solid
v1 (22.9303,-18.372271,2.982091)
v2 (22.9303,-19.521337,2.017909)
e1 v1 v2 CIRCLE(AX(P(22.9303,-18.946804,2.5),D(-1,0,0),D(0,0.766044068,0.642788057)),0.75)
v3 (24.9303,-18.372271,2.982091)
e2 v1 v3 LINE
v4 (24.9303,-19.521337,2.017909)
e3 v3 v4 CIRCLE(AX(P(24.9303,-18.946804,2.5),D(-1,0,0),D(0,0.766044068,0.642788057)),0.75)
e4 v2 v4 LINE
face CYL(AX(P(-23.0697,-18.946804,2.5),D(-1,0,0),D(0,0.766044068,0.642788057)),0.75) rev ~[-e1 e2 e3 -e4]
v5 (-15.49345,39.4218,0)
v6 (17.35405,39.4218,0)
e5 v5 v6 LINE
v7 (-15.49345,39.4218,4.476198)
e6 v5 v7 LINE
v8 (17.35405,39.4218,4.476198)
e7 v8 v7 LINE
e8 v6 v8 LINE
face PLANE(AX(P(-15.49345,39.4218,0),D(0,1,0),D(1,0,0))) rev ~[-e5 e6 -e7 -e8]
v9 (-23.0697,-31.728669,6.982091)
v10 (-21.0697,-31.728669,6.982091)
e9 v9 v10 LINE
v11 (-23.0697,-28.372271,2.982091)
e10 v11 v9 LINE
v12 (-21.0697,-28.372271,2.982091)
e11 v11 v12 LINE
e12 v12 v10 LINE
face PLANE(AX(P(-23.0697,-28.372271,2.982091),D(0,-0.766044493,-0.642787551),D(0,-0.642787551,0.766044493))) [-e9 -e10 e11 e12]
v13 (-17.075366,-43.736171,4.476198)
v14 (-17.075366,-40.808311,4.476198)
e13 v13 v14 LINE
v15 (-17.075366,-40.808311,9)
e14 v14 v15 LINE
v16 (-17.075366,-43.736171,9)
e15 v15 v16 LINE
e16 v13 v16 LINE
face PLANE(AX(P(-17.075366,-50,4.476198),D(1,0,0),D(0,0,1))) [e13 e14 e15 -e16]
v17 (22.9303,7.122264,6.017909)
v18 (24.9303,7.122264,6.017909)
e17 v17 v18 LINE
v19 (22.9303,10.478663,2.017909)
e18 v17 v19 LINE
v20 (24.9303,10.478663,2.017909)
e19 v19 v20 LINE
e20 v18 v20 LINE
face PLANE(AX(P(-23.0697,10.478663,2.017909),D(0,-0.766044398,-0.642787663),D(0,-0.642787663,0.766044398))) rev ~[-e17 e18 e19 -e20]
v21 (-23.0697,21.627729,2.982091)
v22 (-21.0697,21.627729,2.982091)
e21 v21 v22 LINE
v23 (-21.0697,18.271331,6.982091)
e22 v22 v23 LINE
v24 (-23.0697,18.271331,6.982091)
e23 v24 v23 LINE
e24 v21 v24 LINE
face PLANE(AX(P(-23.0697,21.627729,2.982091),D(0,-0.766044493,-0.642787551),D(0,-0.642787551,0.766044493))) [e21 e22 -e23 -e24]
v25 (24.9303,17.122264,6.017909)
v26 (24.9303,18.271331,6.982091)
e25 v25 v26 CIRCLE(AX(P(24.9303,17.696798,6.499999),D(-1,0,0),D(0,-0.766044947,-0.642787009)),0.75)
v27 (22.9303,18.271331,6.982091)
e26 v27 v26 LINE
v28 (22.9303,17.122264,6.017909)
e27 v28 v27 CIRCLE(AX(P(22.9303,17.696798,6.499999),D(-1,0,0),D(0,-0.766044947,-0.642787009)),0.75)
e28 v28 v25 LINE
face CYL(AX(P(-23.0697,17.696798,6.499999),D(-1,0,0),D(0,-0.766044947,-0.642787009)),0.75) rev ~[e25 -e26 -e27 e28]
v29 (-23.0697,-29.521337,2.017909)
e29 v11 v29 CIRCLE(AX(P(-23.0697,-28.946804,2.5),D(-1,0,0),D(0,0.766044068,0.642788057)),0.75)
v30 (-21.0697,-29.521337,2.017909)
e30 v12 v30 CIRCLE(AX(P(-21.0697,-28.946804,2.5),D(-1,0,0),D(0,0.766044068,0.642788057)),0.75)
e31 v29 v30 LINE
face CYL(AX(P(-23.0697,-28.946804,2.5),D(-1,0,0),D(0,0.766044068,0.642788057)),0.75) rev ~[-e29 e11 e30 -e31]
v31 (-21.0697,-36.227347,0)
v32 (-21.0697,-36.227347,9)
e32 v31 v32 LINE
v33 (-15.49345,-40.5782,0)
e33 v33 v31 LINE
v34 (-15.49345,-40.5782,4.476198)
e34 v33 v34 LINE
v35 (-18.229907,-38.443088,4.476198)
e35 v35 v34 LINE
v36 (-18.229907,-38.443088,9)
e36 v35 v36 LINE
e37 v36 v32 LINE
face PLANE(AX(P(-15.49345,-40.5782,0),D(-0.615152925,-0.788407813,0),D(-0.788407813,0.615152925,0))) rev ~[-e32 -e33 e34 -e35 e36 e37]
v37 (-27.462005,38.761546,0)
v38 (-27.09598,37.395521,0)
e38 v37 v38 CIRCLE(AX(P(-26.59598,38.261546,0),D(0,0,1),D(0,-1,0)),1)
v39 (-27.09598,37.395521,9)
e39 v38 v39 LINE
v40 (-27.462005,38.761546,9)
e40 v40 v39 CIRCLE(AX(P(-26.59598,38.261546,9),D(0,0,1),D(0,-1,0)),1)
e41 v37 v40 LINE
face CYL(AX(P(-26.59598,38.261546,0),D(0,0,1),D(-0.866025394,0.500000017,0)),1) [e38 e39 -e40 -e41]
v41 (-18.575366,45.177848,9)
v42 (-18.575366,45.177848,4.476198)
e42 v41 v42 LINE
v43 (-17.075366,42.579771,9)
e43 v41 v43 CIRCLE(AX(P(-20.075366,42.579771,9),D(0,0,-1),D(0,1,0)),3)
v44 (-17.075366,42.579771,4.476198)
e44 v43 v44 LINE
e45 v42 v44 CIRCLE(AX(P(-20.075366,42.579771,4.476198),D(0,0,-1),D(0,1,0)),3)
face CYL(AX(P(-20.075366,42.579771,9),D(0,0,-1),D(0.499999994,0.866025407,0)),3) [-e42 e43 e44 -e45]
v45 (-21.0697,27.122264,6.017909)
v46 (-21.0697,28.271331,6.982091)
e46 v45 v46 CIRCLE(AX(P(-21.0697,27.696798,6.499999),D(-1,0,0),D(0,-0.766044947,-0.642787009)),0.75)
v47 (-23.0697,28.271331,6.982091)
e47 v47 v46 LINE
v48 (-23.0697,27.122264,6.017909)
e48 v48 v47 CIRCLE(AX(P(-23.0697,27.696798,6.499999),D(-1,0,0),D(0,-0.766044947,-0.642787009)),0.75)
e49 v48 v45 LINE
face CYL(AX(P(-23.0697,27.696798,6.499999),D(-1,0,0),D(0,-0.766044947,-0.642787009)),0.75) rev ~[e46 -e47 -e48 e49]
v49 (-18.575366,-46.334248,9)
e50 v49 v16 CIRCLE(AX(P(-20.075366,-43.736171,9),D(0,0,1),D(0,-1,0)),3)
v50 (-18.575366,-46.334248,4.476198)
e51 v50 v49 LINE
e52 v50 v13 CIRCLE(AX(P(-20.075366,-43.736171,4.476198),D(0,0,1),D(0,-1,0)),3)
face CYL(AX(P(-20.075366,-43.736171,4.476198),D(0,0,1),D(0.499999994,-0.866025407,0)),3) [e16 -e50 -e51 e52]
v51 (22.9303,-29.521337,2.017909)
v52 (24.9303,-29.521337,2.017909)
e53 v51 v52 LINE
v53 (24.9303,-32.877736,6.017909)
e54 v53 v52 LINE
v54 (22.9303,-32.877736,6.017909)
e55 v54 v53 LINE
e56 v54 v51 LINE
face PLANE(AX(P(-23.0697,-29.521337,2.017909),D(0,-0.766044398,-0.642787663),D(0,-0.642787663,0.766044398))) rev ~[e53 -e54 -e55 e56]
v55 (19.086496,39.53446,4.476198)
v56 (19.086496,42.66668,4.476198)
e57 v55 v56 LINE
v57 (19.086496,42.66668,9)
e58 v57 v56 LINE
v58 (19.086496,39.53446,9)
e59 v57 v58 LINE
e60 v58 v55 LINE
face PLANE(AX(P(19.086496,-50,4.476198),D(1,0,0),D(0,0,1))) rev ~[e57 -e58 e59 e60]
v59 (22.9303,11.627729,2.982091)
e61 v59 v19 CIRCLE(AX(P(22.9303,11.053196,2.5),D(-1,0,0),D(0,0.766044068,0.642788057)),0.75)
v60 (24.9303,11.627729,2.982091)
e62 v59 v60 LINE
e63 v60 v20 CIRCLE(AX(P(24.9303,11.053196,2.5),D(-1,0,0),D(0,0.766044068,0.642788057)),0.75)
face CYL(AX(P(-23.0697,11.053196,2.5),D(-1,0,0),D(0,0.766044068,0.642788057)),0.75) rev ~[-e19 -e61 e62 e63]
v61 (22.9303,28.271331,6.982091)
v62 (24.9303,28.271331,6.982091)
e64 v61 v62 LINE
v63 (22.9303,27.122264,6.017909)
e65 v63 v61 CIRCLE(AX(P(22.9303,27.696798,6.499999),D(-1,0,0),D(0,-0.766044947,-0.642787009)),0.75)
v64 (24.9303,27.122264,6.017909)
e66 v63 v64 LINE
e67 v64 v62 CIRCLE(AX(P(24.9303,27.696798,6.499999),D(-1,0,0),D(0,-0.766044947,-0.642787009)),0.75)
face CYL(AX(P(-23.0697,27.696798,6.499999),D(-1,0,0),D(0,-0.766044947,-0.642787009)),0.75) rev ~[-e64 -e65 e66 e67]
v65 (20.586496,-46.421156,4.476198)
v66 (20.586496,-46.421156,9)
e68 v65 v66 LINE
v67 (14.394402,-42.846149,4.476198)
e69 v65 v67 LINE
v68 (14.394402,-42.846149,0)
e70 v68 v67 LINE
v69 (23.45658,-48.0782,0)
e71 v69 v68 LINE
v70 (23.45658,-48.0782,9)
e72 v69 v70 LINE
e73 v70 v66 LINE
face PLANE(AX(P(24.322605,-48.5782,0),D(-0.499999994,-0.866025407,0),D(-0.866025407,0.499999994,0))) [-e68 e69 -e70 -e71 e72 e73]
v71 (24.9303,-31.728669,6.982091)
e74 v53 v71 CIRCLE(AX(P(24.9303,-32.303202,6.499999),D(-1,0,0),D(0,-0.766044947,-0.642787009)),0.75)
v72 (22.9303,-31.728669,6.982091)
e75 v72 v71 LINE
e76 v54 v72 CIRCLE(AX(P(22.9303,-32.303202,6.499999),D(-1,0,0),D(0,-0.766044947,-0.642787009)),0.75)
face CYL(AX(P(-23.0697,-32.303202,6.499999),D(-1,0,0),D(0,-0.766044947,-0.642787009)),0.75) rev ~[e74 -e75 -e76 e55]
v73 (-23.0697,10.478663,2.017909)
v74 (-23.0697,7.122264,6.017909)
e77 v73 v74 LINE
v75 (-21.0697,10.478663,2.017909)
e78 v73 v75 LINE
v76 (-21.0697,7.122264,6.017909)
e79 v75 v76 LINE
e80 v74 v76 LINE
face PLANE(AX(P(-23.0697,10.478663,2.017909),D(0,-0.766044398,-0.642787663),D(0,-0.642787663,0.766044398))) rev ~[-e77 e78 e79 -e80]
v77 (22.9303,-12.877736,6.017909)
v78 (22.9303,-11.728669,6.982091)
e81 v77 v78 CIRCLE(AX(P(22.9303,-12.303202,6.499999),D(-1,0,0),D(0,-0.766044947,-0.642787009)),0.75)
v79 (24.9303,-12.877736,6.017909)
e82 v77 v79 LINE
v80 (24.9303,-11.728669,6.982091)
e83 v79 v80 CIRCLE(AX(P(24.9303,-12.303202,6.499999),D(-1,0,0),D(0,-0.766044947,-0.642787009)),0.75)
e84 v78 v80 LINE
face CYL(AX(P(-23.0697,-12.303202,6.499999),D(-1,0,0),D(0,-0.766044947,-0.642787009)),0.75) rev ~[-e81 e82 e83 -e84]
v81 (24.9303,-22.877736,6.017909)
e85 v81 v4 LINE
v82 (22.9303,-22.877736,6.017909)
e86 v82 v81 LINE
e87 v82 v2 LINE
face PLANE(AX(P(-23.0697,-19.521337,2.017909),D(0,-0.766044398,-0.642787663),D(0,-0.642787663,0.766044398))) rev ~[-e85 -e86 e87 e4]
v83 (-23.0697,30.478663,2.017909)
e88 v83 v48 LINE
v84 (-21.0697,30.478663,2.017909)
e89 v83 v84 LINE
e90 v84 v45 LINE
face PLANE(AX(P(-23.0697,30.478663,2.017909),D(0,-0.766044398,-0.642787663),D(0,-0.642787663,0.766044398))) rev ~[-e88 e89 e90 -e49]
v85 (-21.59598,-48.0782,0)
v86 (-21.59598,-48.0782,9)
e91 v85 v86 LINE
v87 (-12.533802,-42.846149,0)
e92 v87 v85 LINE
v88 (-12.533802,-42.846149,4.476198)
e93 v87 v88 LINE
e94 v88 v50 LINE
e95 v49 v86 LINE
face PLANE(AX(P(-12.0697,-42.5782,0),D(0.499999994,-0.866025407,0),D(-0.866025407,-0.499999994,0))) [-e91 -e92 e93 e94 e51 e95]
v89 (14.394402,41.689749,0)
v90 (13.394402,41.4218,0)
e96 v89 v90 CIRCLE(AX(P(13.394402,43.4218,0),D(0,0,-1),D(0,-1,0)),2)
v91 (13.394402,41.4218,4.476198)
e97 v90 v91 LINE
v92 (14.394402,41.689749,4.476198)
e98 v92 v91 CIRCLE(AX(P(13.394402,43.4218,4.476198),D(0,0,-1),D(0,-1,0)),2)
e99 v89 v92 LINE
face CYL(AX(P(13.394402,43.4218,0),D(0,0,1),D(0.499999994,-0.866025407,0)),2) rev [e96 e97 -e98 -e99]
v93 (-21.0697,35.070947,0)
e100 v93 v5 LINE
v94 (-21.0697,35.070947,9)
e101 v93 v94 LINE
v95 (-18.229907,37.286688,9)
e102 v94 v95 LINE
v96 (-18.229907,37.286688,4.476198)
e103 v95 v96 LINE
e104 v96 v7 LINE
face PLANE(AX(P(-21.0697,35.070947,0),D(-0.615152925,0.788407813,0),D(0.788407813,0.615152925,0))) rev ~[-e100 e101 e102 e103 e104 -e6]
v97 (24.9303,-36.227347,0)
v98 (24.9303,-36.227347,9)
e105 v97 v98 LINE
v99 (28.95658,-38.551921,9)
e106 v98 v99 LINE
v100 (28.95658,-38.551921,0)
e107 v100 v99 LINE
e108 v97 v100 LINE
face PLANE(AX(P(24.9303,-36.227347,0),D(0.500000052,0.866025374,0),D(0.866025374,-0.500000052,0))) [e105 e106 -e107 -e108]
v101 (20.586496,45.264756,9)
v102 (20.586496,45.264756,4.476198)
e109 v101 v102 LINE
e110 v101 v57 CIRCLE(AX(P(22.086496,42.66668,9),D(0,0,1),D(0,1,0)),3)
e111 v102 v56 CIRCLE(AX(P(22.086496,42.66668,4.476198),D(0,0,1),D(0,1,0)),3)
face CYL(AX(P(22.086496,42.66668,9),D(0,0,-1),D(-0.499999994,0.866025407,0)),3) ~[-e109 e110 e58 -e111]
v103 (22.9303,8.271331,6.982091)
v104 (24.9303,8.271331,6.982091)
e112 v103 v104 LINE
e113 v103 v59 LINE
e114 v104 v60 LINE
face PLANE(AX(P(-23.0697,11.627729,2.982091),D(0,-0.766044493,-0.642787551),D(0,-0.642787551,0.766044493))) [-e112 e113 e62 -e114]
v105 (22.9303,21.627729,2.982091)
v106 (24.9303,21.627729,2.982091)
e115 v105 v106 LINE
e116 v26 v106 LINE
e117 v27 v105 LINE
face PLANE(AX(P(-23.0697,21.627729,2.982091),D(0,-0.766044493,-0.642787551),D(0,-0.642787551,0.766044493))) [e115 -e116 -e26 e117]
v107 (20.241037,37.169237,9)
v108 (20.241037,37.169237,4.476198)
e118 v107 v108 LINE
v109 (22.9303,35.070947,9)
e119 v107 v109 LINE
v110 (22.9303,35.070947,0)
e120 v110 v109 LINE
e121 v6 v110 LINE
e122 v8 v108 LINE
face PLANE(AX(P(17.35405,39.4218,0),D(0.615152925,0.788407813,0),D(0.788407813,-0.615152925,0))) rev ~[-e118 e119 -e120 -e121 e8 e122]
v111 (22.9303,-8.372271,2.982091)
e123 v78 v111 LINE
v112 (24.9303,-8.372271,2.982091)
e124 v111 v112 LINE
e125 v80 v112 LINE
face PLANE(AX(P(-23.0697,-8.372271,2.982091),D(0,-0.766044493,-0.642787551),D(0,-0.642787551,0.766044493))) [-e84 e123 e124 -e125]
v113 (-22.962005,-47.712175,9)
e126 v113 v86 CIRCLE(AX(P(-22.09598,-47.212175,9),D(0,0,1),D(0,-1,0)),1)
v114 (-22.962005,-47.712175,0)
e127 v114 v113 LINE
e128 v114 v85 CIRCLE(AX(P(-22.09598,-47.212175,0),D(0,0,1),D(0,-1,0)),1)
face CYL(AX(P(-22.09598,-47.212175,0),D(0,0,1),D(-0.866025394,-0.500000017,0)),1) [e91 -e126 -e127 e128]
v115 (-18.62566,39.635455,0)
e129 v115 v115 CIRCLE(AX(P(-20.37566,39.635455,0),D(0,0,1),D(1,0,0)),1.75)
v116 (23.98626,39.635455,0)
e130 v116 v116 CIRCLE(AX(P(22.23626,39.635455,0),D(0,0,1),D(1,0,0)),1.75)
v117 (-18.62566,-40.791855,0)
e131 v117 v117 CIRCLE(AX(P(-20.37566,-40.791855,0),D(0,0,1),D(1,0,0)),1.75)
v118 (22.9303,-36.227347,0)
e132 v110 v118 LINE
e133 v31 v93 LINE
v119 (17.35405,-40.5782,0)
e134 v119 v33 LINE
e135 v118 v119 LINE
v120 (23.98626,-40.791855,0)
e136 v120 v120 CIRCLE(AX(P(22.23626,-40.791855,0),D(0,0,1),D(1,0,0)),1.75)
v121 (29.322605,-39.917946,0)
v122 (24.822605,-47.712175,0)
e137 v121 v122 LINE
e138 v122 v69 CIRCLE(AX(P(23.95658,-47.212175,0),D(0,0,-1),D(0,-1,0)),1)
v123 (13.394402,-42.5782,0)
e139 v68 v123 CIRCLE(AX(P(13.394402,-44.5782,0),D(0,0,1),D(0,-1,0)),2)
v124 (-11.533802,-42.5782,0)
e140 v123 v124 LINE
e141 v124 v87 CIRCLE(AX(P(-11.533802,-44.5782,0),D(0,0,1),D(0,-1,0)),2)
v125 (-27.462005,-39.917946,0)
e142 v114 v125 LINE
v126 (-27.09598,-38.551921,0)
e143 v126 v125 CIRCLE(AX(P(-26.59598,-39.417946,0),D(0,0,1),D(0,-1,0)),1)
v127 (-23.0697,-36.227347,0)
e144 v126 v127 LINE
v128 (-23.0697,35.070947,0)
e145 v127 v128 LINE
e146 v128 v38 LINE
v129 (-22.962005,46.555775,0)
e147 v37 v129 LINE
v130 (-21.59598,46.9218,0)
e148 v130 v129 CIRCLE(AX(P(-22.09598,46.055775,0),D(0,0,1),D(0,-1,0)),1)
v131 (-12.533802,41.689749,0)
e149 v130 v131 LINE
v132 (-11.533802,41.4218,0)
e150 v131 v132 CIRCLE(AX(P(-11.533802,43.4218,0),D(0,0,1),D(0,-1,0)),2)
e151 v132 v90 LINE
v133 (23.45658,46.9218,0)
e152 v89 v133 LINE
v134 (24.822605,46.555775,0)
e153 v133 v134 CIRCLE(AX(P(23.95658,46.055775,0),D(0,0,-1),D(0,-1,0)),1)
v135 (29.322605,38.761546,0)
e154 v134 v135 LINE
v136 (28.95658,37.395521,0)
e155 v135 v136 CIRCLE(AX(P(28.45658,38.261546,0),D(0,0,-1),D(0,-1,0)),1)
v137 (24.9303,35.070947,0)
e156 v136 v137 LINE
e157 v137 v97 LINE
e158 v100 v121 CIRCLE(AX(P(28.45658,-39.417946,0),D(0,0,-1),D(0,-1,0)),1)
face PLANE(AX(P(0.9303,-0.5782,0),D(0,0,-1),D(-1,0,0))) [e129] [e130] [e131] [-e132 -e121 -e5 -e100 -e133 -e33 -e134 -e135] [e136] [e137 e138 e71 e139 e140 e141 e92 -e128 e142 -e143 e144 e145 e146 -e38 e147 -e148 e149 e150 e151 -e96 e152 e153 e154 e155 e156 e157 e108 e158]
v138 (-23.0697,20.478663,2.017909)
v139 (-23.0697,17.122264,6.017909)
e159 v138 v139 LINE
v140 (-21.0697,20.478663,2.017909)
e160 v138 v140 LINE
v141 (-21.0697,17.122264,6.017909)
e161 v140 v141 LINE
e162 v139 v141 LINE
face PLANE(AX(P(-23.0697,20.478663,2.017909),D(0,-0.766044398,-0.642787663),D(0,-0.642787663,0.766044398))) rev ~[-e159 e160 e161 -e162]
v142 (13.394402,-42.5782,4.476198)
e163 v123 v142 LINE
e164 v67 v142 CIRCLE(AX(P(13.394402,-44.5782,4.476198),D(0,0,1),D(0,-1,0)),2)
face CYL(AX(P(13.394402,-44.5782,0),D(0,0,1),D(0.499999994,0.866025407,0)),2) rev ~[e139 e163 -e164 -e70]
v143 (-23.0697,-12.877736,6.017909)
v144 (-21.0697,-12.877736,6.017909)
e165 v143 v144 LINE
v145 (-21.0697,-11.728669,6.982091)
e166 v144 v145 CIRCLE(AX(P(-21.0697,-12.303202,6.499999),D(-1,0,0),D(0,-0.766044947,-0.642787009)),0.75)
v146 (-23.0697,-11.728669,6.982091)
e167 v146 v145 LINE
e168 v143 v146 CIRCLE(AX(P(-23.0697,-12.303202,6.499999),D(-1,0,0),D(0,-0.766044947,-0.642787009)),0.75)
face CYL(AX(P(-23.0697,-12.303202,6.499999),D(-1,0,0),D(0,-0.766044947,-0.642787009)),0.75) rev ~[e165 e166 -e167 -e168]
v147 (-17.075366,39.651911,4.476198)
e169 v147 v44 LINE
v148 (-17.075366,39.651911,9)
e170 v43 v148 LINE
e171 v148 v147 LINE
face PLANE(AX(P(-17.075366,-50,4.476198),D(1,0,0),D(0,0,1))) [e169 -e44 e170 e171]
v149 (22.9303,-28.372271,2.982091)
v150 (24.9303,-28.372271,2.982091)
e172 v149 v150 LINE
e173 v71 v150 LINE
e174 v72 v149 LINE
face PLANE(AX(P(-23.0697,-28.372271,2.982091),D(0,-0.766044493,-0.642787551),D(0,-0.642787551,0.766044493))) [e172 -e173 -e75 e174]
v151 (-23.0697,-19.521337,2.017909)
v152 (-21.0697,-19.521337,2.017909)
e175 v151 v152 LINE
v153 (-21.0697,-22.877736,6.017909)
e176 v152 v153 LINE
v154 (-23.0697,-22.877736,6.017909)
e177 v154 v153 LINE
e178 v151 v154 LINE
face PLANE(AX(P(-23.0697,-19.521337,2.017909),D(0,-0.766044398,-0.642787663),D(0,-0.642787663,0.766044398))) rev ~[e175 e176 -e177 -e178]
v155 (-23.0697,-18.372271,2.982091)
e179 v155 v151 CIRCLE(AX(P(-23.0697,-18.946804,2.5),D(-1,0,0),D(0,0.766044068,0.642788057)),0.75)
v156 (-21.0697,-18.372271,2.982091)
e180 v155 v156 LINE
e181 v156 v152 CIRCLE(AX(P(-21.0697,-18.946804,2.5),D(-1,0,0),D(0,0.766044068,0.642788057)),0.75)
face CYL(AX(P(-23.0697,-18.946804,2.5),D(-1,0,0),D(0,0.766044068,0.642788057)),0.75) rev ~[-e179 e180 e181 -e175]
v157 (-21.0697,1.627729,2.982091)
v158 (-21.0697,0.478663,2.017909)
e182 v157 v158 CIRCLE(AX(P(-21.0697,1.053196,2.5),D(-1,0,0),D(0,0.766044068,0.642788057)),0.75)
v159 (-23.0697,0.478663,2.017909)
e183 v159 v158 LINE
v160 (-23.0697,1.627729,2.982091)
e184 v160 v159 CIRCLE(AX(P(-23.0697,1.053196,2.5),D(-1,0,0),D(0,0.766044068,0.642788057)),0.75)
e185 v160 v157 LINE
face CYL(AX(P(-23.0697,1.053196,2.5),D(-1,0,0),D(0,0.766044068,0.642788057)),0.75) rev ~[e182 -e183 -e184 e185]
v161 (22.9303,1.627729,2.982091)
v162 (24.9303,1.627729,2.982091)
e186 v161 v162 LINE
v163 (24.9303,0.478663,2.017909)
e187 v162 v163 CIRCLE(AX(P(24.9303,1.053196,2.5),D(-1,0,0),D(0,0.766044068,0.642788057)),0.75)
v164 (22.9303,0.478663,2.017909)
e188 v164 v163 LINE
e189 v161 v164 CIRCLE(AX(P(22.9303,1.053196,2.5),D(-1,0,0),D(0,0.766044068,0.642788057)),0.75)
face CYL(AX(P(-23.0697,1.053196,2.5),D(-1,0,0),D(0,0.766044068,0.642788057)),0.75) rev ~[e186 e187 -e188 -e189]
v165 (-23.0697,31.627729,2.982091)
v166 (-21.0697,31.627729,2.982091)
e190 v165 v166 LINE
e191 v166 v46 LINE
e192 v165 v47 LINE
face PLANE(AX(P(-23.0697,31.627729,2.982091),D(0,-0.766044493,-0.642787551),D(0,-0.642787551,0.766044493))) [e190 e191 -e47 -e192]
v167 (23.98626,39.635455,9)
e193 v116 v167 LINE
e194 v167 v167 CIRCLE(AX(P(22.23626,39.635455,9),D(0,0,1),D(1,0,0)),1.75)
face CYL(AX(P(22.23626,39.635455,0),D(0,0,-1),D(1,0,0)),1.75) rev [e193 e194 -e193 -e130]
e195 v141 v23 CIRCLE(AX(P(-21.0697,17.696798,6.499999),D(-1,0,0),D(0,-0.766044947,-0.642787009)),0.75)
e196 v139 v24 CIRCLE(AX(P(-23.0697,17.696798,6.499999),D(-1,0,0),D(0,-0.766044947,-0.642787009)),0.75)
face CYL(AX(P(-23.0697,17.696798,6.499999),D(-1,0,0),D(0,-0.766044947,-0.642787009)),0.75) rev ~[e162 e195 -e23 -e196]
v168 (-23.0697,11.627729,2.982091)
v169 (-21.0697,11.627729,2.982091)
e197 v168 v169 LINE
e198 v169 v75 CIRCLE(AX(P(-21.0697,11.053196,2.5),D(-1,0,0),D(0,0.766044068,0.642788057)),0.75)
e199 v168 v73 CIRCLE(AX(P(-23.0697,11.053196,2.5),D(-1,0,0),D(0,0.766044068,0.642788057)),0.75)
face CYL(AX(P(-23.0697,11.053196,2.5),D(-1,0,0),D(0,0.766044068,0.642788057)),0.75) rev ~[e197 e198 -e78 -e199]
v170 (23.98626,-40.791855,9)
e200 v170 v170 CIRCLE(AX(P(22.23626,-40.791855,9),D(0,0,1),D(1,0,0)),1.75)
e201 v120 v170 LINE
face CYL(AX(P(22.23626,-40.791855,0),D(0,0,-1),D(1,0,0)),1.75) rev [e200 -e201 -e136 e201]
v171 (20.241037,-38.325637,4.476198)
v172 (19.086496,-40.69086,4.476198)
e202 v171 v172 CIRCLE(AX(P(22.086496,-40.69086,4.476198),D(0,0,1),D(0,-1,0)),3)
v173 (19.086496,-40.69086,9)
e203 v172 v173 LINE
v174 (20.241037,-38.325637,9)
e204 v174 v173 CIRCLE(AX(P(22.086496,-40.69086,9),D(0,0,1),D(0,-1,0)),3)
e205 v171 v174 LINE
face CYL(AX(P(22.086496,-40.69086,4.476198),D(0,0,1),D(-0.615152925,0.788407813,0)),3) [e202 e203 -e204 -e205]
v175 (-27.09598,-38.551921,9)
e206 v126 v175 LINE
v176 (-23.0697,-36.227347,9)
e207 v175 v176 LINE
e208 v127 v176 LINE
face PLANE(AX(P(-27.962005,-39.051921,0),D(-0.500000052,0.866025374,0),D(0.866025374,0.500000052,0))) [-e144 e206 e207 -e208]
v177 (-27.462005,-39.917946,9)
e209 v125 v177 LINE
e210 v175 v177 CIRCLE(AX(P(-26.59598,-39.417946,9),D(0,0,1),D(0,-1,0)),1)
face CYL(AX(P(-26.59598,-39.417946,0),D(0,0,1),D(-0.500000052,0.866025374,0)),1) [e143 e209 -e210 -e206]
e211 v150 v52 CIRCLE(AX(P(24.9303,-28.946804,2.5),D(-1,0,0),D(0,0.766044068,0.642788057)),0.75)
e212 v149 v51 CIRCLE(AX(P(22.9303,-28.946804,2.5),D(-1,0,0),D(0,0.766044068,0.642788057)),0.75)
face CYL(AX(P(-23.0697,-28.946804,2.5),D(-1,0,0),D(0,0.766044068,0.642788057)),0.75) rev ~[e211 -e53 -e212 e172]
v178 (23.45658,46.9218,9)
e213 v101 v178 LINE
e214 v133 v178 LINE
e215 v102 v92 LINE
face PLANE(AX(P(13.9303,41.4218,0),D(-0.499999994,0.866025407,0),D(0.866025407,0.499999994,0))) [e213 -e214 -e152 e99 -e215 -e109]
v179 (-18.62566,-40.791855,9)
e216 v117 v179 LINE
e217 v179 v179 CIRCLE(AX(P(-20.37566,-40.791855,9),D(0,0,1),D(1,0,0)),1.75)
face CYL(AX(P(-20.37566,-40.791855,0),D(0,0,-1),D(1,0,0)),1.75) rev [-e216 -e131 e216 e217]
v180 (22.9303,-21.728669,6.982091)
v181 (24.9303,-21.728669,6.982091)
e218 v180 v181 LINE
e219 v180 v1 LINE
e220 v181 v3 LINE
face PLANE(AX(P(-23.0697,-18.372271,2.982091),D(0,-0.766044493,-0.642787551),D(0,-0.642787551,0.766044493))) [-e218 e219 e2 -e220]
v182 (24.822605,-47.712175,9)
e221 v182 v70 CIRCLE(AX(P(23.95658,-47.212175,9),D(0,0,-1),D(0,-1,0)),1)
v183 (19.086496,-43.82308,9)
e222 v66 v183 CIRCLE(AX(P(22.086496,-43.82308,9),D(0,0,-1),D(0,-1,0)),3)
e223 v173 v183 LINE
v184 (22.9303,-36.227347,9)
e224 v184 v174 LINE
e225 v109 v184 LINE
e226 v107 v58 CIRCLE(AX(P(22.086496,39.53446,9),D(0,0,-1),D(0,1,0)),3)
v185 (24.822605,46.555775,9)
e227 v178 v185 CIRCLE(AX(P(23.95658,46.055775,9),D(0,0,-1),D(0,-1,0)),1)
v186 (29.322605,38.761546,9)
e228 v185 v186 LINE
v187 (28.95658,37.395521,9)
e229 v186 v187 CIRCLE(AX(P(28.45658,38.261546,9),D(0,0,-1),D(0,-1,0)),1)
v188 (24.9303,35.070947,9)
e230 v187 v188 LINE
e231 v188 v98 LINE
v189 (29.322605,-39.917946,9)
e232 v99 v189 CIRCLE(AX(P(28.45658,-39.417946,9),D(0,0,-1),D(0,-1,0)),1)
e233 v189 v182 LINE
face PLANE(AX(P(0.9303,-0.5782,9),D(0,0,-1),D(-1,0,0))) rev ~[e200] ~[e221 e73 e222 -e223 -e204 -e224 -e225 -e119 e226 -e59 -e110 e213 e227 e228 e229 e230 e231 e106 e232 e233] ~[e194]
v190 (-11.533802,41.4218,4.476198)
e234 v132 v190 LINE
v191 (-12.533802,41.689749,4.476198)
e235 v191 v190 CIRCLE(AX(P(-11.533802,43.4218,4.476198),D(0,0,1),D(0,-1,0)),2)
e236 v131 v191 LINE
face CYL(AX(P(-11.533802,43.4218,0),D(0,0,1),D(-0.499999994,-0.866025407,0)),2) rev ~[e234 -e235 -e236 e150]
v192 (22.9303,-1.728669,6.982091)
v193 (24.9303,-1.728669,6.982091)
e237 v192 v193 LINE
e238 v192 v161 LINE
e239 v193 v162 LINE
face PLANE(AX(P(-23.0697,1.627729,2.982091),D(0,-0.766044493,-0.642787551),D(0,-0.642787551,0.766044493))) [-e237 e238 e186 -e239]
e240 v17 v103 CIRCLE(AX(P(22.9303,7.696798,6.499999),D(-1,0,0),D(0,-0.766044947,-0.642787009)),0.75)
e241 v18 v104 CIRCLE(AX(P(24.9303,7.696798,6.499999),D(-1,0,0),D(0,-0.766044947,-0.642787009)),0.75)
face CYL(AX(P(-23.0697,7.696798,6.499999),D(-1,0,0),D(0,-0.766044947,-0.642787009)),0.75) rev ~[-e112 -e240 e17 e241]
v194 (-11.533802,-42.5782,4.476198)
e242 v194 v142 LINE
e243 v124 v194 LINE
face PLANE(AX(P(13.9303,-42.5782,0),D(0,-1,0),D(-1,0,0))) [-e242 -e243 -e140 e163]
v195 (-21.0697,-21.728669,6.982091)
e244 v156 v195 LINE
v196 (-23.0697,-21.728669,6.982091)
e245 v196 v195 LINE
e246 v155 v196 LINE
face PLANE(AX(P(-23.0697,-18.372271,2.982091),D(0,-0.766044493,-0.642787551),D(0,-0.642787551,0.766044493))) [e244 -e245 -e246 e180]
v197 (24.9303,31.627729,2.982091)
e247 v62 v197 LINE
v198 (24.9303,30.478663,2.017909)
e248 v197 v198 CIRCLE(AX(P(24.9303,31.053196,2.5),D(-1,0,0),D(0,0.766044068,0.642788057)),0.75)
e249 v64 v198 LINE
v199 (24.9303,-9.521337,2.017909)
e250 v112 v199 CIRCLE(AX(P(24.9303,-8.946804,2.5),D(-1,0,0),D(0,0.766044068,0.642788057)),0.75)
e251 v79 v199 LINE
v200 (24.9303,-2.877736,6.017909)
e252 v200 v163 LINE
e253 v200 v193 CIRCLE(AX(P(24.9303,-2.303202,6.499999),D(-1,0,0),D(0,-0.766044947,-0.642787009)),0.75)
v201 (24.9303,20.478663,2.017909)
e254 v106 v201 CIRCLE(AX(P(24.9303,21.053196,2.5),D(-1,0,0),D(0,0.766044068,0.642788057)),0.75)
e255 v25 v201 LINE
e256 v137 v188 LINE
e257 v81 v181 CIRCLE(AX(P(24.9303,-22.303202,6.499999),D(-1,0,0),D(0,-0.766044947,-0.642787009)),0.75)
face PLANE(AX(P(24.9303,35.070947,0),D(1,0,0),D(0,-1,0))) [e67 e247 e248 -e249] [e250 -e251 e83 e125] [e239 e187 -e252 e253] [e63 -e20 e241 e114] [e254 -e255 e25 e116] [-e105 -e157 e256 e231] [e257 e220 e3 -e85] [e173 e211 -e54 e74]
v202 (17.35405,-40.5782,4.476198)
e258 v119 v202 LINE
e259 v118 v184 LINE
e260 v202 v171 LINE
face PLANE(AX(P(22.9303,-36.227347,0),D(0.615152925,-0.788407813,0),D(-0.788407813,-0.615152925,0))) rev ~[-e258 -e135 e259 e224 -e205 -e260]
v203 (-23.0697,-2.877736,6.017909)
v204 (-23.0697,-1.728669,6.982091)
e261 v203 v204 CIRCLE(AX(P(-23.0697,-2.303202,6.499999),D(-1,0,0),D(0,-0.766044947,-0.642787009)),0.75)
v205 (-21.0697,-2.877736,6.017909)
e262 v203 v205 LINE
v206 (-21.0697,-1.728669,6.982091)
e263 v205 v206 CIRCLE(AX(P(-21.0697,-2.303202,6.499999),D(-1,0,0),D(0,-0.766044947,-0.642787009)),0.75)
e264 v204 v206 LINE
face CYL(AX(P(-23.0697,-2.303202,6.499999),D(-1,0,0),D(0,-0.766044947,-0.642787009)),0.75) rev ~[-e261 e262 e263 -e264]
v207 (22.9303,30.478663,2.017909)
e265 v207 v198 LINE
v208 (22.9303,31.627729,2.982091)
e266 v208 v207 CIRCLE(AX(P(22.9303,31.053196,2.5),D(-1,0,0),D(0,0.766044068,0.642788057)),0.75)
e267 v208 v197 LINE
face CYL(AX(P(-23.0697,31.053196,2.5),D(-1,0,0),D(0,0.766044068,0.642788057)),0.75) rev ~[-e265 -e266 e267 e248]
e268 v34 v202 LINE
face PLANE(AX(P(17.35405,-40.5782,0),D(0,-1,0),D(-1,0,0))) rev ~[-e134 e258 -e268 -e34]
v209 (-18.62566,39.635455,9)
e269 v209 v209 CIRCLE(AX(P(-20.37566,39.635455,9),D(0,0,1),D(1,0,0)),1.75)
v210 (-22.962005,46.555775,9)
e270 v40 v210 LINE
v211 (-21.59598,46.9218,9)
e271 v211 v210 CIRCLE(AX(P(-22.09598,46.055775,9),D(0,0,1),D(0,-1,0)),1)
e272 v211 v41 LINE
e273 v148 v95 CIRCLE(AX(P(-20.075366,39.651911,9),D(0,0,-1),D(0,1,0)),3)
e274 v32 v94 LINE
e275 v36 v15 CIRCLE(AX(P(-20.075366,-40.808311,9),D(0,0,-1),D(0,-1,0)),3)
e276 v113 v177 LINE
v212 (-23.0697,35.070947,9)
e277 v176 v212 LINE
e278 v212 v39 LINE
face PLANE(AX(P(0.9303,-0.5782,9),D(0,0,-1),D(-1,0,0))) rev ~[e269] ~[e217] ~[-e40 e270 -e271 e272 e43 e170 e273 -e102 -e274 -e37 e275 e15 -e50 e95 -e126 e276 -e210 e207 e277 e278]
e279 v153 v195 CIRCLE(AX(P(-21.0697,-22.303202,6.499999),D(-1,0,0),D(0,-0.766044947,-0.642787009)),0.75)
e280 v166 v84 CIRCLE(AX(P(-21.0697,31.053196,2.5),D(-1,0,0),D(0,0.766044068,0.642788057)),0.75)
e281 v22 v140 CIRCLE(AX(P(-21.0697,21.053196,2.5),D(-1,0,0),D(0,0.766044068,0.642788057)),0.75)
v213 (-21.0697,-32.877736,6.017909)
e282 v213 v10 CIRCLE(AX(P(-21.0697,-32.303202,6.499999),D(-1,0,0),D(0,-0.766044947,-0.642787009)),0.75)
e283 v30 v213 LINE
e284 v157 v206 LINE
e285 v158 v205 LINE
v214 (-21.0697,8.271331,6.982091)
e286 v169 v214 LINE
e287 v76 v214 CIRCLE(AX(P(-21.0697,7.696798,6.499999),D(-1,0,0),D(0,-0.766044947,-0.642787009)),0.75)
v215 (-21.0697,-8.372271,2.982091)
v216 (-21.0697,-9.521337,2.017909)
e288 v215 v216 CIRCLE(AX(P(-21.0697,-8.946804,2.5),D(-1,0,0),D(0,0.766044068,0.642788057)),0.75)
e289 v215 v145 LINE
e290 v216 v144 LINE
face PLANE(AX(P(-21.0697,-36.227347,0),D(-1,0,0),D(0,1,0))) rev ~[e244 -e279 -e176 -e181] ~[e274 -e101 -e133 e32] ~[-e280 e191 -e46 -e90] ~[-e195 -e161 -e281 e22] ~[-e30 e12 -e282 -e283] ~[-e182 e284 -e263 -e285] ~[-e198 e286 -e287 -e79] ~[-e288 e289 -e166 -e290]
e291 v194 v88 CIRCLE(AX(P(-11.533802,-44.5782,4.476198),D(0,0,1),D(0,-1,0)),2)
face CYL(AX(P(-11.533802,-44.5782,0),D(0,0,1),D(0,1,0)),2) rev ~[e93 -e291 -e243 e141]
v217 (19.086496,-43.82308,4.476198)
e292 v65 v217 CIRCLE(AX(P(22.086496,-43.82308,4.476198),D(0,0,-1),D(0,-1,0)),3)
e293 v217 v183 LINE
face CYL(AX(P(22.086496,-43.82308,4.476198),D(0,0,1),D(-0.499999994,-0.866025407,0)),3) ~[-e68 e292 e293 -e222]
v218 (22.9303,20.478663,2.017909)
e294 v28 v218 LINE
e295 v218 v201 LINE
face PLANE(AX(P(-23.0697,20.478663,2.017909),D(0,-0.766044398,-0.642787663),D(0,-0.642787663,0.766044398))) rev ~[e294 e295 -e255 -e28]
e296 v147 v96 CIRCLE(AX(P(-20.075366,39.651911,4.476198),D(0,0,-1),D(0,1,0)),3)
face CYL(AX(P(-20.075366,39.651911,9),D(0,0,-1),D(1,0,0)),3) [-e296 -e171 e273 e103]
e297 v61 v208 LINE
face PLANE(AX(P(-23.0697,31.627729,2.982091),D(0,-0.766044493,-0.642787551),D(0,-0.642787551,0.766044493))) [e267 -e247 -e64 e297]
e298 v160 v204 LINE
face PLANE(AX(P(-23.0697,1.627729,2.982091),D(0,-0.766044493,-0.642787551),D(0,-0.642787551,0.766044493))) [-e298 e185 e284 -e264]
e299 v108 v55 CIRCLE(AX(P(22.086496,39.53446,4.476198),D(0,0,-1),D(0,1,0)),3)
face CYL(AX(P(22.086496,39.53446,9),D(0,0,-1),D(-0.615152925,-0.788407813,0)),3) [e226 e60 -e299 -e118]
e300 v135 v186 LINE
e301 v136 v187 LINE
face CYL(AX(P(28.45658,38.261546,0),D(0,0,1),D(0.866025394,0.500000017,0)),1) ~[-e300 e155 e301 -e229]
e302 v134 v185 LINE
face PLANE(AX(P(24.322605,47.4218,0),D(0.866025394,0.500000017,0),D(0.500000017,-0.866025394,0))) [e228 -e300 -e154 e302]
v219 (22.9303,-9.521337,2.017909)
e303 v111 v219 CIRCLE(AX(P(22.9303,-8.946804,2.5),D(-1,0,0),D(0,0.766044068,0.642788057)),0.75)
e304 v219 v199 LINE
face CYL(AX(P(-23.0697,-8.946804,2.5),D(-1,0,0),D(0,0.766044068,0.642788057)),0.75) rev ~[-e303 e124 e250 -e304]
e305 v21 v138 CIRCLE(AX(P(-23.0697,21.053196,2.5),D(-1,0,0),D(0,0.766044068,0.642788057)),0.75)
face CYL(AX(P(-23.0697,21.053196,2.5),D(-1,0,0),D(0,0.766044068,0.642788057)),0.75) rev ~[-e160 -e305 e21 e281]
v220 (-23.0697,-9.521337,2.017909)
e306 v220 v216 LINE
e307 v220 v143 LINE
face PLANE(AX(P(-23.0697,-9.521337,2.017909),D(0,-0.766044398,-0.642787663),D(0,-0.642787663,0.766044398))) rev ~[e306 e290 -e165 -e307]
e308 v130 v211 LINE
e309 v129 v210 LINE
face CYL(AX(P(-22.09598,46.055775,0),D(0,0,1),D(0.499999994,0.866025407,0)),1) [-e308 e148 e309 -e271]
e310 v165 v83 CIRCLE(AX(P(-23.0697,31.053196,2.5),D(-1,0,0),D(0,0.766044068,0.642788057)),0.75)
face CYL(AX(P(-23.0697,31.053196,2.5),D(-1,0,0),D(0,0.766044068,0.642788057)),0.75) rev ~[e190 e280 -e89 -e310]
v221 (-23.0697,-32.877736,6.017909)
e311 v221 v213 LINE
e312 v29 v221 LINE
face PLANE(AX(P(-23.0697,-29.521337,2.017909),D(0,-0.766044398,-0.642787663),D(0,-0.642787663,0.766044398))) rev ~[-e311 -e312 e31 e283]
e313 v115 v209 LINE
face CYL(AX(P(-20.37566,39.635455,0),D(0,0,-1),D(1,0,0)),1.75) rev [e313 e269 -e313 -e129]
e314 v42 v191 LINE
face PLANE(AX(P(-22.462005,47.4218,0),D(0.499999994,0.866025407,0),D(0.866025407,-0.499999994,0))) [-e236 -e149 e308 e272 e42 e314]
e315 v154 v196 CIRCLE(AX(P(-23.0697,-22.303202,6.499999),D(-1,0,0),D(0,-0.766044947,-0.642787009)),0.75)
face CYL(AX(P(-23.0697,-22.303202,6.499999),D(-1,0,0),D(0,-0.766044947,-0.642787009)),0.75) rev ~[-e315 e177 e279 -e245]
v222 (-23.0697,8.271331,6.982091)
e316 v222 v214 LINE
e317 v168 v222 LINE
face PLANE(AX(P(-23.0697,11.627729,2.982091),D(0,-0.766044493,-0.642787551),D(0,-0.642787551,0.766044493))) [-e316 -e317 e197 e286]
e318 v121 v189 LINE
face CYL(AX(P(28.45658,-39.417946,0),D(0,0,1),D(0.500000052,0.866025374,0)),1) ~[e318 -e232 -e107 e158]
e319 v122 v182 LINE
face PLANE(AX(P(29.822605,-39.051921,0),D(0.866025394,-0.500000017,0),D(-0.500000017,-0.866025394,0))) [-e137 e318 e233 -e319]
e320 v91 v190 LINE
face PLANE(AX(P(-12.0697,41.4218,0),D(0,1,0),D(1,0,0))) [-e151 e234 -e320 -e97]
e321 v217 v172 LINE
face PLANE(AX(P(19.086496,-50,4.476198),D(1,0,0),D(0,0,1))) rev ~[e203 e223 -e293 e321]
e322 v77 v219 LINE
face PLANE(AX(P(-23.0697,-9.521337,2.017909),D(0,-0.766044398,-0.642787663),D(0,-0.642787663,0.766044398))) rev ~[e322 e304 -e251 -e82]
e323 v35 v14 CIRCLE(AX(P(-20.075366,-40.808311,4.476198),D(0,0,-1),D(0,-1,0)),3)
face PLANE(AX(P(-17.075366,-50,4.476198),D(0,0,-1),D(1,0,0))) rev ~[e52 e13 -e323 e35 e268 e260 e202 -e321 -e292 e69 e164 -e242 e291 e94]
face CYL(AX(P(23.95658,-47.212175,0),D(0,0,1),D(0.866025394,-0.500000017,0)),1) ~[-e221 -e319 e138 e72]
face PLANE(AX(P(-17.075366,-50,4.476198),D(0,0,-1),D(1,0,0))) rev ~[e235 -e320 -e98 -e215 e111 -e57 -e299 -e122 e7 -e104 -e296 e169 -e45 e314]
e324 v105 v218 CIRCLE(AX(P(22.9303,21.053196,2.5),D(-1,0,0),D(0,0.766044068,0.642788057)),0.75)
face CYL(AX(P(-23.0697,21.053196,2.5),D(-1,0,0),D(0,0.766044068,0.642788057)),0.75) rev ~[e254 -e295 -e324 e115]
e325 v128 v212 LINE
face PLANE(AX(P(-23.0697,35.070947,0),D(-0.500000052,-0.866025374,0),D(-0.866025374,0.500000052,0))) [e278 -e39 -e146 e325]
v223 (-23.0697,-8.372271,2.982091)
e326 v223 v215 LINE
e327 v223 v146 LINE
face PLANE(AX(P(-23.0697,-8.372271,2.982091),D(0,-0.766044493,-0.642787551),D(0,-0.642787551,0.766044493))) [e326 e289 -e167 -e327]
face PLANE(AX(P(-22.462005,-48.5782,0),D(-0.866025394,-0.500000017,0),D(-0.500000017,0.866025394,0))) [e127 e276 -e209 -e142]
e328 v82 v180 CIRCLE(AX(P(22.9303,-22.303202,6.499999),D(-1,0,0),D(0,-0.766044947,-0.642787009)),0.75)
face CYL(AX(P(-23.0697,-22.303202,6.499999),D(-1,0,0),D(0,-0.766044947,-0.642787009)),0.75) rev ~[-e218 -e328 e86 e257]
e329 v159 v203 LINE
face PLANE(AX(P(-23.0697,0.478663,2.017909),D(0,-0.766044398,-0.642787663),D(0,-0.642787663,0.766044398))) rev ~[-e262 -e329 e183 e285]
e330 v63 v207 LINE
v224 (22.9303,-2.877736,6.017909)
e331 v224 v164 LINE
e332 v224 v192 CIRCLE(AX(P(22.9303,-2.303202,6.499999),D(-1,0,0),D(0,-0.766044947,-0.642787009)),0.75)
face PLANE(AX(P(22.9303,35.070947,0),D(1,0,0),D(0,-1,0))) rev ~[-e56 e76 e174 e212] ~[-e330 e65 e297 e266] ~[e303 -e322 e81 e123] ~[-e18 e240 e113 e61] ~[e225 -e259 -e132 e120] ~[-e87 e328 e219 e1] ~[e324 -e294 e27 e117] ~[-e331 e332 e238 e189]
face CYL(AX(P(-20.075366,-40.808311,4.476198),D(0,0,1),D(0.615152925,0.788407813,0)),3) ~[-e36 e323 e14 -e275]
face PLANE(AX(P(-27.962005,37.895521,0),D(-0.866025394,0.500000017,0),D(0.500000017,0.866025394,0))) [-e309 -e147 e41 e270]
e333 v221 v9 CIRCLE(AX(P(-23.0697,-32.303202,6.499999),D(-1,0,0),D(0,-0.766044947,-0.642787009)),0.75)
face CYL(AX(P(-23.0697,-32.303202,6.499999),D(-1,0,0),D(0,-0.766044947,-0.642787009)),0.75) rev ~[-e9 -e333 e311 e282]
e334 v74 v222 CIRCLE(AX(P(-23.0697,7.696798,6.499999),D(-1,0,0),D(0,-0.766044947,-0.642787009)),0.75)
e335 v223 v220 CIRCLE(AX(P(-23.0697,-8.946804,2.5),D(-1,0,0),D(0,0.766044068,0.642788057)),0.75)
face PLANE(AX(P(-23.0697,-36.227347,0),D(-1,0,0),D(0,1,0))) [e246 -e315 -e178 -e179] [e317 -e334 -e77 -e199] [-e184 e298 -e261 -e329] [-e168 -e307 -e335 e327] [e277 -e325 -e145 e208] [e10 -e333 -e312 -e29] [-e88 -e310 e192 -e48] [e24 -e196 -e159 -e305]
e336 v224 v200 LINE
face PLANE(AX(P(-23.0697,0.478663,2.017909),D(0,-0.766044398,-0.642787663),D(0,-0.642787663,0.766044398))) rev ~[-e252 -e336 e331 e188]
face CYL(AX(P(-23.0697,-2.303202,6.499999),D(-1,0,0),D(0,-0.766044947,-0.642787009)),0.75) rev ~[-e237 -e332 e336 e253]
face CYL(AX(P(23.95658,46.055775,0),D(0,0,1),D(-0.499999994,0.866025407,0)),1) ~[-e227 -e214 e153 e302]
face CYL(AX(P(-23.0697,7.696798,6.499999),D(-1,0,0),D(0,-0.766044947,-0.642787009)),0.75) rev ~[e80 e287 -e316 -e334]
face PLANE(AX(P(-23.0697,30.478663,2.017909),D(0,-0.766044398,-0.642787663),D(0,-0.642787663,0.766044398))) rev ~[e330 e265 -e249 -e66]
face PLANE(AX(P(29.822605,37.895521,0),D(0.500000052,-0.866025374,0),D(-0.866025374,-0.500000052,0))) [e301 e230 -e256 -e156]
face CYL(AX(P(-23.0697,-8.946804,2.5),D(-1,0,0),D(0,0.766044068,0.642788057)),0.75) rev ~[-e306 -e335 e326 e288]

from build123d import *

# Parameters (mm, degrees)
SKETCH004_W   = 36.161861
SKETCH004_H   = 4.748486
PAD002_DEPTH  = 100
PAD001_DEPTH  = 50
ARRAY_Y_COUNT = 7
ARRAY_Y_PITCH = 10
SKETCH_R      = 1.75
PAD_DEPTH     = 9
FILLET_R      = 1
FILLET002_R   = 3
FILLET003_R   = 2


with BuildPart() as pad002:
    # Sketch004 → Pad002 (new body)
    with BuildSketch(Plane(origin=(1, -50, 0), x_dir=(1, 0, 0), z_dir=(0, -1, 0))):
        with Locations((0.005565, 6.850441)):
            Rectangle(SKETCH004_W, SKETCH004_H)
    extrude(amount=-PAD002_DEPTH)


with BuildPart() as array:
    # Sketch003 → Pad001 (new body)
    with BuildSketch(Plane(origin=(-23.0697, 0, 0), x_dir=(0, -1, 0), z_dir=(-1, 0, 0))):
        with BuildLine():
            Line((-1.127729, 2.982091), (2.228669, 6.982091))
            ThreePointArc((3.377736, 6.017909), (3.285293, 7.074533), (2.228669, 6.982091))
            Line((0.021337, 2.017909), (3.377736, 6.017909))
            ThreePointArc((-1.127729, 2.982091), (-1.035287, 1.925467), (0.021337, 2.017909))
        make_face()
    extrude(amount=-PAD001_DEPTH)

    # Array Y: Array ×7


with BuildPart() as array_1:
    add(array.part)
    with Locations(*[(0, i * ARRAY_Y_PITCH, 0) for i in range(1, ARRAY_Y_COUNT)]):
        add(array.part)


with BuildPart() as array_2:
    # Array placement: moved
    add(array_1.part.moved(Location((0, -29.5, 0))))


with BuildPart() as fillet003:
    # Sketch → Pad (new body)
    with BuildSketch(Plane.XY):
        Polygon((-12.0697, 41.4218), (13.9303, 41.4218), (24.322605, 47.4218), (29.822605, 37.895521), (24.9303, 35.070947), (24.9303, -36.227347), (29.822605, -39.051921), (24.322605, -48.5782), (13.9303, -42.5782), (-12.0697, -42.5782), (-22.462005, -48.5782), (-27.962005, -39.051921), (-23.0697, -36.227347), (-23.0697, 35.070947), (-27.962005, 37.895521), (-22.462005, 47.4218), align=None)
        with Locations((-20.37566, -40.791855)):
            Circle(SKETCH_R, mode=Mode.SUBTRACT)
        with Locations((22.23626, -40.791855)):
            Circle(SKETCH_R, mode=Mode.SUBTRACT)
        with Locations((22.23626, 39.635455)):
            Circle(SKETCH_R, mode=Mode.SUBTRACT)
        with Locations((-20.37566, 39.635455)):
            Circle(SKETCH_R, mode=Mode.SUBTRACT)
        Polygon((22.9303, 35.070947), (22.9303, -36.227347), (17.35405, -40.5782), (-15.49345, -40.5782), (-21.0697, -36.227347), (-21.0697, 35.070947), (-15.49345, 39.4218), (17.35405, 39.4218), align=None, mode=Mode.SUBTRACT)
    extrude(amount=PAD_DEPTH)

    # Fillet
    fillet_edges = [fillet003.edges().sort_by_distance(p)[0] for p in [
        (-22.462005, 47.4218, 4.5),
        (24.322605, 47.4218, 4.5),
        (29.822605, 37.895521, 4.5),
        (29.822605, -39.051921, 4.5),
        (24.322605, -48.5782, 4.5),
        (-22.462005, -48.5782, 4.5),
        (-27.962005, -39.051921, 4.5),
        (-27.962005, 37.895521, 4.5),
    ]]
    fillet(fillet_edges, radius=FILLET_R)

    # Cut: cut Array
    add(array_2.part, mode=Mode.SUBTRACT)

    # Cut001: cut Pad002
    add(pad002.part, mode=Mode.SUBTRACT)

    # Fillet002
    fillet002_edges = [fillet003.edges().sort_by_distance(p)[0] for p in [
        (-17.075366, -39.343915, 6.738099),
        (-17.075366, -45.468223, 6.738099),
        (19.086495, -45.555131, 6.738099),
        (19.086495, -39.226465, 6.738099),
        (-17.075366, 44.311823, 6.738099),
        (-17.075366, 38.187515, 6.738099),
        (19.086495, 44.398731, 6.738099),
        (19.086495, 38.070065, 6.738099),
    ]]
    fillet(fillet002_edges, radius=FILLET002_R)

    # Fillet003
    fillet003_edges = [fillet003.edges().sort_by_distance(p)[0] for p in [
        (-12.0697, -42.5782, 2.238099),
        (13.9303, -42.5782, 2.238099),
        (-12.0697, 41.4218, 2.238099),
        (13.9303, 41.4218, 2.238099),
    ]]
    fillet(fillet003_edges, radius=FILLET003_R)


solid = fillet003.part
